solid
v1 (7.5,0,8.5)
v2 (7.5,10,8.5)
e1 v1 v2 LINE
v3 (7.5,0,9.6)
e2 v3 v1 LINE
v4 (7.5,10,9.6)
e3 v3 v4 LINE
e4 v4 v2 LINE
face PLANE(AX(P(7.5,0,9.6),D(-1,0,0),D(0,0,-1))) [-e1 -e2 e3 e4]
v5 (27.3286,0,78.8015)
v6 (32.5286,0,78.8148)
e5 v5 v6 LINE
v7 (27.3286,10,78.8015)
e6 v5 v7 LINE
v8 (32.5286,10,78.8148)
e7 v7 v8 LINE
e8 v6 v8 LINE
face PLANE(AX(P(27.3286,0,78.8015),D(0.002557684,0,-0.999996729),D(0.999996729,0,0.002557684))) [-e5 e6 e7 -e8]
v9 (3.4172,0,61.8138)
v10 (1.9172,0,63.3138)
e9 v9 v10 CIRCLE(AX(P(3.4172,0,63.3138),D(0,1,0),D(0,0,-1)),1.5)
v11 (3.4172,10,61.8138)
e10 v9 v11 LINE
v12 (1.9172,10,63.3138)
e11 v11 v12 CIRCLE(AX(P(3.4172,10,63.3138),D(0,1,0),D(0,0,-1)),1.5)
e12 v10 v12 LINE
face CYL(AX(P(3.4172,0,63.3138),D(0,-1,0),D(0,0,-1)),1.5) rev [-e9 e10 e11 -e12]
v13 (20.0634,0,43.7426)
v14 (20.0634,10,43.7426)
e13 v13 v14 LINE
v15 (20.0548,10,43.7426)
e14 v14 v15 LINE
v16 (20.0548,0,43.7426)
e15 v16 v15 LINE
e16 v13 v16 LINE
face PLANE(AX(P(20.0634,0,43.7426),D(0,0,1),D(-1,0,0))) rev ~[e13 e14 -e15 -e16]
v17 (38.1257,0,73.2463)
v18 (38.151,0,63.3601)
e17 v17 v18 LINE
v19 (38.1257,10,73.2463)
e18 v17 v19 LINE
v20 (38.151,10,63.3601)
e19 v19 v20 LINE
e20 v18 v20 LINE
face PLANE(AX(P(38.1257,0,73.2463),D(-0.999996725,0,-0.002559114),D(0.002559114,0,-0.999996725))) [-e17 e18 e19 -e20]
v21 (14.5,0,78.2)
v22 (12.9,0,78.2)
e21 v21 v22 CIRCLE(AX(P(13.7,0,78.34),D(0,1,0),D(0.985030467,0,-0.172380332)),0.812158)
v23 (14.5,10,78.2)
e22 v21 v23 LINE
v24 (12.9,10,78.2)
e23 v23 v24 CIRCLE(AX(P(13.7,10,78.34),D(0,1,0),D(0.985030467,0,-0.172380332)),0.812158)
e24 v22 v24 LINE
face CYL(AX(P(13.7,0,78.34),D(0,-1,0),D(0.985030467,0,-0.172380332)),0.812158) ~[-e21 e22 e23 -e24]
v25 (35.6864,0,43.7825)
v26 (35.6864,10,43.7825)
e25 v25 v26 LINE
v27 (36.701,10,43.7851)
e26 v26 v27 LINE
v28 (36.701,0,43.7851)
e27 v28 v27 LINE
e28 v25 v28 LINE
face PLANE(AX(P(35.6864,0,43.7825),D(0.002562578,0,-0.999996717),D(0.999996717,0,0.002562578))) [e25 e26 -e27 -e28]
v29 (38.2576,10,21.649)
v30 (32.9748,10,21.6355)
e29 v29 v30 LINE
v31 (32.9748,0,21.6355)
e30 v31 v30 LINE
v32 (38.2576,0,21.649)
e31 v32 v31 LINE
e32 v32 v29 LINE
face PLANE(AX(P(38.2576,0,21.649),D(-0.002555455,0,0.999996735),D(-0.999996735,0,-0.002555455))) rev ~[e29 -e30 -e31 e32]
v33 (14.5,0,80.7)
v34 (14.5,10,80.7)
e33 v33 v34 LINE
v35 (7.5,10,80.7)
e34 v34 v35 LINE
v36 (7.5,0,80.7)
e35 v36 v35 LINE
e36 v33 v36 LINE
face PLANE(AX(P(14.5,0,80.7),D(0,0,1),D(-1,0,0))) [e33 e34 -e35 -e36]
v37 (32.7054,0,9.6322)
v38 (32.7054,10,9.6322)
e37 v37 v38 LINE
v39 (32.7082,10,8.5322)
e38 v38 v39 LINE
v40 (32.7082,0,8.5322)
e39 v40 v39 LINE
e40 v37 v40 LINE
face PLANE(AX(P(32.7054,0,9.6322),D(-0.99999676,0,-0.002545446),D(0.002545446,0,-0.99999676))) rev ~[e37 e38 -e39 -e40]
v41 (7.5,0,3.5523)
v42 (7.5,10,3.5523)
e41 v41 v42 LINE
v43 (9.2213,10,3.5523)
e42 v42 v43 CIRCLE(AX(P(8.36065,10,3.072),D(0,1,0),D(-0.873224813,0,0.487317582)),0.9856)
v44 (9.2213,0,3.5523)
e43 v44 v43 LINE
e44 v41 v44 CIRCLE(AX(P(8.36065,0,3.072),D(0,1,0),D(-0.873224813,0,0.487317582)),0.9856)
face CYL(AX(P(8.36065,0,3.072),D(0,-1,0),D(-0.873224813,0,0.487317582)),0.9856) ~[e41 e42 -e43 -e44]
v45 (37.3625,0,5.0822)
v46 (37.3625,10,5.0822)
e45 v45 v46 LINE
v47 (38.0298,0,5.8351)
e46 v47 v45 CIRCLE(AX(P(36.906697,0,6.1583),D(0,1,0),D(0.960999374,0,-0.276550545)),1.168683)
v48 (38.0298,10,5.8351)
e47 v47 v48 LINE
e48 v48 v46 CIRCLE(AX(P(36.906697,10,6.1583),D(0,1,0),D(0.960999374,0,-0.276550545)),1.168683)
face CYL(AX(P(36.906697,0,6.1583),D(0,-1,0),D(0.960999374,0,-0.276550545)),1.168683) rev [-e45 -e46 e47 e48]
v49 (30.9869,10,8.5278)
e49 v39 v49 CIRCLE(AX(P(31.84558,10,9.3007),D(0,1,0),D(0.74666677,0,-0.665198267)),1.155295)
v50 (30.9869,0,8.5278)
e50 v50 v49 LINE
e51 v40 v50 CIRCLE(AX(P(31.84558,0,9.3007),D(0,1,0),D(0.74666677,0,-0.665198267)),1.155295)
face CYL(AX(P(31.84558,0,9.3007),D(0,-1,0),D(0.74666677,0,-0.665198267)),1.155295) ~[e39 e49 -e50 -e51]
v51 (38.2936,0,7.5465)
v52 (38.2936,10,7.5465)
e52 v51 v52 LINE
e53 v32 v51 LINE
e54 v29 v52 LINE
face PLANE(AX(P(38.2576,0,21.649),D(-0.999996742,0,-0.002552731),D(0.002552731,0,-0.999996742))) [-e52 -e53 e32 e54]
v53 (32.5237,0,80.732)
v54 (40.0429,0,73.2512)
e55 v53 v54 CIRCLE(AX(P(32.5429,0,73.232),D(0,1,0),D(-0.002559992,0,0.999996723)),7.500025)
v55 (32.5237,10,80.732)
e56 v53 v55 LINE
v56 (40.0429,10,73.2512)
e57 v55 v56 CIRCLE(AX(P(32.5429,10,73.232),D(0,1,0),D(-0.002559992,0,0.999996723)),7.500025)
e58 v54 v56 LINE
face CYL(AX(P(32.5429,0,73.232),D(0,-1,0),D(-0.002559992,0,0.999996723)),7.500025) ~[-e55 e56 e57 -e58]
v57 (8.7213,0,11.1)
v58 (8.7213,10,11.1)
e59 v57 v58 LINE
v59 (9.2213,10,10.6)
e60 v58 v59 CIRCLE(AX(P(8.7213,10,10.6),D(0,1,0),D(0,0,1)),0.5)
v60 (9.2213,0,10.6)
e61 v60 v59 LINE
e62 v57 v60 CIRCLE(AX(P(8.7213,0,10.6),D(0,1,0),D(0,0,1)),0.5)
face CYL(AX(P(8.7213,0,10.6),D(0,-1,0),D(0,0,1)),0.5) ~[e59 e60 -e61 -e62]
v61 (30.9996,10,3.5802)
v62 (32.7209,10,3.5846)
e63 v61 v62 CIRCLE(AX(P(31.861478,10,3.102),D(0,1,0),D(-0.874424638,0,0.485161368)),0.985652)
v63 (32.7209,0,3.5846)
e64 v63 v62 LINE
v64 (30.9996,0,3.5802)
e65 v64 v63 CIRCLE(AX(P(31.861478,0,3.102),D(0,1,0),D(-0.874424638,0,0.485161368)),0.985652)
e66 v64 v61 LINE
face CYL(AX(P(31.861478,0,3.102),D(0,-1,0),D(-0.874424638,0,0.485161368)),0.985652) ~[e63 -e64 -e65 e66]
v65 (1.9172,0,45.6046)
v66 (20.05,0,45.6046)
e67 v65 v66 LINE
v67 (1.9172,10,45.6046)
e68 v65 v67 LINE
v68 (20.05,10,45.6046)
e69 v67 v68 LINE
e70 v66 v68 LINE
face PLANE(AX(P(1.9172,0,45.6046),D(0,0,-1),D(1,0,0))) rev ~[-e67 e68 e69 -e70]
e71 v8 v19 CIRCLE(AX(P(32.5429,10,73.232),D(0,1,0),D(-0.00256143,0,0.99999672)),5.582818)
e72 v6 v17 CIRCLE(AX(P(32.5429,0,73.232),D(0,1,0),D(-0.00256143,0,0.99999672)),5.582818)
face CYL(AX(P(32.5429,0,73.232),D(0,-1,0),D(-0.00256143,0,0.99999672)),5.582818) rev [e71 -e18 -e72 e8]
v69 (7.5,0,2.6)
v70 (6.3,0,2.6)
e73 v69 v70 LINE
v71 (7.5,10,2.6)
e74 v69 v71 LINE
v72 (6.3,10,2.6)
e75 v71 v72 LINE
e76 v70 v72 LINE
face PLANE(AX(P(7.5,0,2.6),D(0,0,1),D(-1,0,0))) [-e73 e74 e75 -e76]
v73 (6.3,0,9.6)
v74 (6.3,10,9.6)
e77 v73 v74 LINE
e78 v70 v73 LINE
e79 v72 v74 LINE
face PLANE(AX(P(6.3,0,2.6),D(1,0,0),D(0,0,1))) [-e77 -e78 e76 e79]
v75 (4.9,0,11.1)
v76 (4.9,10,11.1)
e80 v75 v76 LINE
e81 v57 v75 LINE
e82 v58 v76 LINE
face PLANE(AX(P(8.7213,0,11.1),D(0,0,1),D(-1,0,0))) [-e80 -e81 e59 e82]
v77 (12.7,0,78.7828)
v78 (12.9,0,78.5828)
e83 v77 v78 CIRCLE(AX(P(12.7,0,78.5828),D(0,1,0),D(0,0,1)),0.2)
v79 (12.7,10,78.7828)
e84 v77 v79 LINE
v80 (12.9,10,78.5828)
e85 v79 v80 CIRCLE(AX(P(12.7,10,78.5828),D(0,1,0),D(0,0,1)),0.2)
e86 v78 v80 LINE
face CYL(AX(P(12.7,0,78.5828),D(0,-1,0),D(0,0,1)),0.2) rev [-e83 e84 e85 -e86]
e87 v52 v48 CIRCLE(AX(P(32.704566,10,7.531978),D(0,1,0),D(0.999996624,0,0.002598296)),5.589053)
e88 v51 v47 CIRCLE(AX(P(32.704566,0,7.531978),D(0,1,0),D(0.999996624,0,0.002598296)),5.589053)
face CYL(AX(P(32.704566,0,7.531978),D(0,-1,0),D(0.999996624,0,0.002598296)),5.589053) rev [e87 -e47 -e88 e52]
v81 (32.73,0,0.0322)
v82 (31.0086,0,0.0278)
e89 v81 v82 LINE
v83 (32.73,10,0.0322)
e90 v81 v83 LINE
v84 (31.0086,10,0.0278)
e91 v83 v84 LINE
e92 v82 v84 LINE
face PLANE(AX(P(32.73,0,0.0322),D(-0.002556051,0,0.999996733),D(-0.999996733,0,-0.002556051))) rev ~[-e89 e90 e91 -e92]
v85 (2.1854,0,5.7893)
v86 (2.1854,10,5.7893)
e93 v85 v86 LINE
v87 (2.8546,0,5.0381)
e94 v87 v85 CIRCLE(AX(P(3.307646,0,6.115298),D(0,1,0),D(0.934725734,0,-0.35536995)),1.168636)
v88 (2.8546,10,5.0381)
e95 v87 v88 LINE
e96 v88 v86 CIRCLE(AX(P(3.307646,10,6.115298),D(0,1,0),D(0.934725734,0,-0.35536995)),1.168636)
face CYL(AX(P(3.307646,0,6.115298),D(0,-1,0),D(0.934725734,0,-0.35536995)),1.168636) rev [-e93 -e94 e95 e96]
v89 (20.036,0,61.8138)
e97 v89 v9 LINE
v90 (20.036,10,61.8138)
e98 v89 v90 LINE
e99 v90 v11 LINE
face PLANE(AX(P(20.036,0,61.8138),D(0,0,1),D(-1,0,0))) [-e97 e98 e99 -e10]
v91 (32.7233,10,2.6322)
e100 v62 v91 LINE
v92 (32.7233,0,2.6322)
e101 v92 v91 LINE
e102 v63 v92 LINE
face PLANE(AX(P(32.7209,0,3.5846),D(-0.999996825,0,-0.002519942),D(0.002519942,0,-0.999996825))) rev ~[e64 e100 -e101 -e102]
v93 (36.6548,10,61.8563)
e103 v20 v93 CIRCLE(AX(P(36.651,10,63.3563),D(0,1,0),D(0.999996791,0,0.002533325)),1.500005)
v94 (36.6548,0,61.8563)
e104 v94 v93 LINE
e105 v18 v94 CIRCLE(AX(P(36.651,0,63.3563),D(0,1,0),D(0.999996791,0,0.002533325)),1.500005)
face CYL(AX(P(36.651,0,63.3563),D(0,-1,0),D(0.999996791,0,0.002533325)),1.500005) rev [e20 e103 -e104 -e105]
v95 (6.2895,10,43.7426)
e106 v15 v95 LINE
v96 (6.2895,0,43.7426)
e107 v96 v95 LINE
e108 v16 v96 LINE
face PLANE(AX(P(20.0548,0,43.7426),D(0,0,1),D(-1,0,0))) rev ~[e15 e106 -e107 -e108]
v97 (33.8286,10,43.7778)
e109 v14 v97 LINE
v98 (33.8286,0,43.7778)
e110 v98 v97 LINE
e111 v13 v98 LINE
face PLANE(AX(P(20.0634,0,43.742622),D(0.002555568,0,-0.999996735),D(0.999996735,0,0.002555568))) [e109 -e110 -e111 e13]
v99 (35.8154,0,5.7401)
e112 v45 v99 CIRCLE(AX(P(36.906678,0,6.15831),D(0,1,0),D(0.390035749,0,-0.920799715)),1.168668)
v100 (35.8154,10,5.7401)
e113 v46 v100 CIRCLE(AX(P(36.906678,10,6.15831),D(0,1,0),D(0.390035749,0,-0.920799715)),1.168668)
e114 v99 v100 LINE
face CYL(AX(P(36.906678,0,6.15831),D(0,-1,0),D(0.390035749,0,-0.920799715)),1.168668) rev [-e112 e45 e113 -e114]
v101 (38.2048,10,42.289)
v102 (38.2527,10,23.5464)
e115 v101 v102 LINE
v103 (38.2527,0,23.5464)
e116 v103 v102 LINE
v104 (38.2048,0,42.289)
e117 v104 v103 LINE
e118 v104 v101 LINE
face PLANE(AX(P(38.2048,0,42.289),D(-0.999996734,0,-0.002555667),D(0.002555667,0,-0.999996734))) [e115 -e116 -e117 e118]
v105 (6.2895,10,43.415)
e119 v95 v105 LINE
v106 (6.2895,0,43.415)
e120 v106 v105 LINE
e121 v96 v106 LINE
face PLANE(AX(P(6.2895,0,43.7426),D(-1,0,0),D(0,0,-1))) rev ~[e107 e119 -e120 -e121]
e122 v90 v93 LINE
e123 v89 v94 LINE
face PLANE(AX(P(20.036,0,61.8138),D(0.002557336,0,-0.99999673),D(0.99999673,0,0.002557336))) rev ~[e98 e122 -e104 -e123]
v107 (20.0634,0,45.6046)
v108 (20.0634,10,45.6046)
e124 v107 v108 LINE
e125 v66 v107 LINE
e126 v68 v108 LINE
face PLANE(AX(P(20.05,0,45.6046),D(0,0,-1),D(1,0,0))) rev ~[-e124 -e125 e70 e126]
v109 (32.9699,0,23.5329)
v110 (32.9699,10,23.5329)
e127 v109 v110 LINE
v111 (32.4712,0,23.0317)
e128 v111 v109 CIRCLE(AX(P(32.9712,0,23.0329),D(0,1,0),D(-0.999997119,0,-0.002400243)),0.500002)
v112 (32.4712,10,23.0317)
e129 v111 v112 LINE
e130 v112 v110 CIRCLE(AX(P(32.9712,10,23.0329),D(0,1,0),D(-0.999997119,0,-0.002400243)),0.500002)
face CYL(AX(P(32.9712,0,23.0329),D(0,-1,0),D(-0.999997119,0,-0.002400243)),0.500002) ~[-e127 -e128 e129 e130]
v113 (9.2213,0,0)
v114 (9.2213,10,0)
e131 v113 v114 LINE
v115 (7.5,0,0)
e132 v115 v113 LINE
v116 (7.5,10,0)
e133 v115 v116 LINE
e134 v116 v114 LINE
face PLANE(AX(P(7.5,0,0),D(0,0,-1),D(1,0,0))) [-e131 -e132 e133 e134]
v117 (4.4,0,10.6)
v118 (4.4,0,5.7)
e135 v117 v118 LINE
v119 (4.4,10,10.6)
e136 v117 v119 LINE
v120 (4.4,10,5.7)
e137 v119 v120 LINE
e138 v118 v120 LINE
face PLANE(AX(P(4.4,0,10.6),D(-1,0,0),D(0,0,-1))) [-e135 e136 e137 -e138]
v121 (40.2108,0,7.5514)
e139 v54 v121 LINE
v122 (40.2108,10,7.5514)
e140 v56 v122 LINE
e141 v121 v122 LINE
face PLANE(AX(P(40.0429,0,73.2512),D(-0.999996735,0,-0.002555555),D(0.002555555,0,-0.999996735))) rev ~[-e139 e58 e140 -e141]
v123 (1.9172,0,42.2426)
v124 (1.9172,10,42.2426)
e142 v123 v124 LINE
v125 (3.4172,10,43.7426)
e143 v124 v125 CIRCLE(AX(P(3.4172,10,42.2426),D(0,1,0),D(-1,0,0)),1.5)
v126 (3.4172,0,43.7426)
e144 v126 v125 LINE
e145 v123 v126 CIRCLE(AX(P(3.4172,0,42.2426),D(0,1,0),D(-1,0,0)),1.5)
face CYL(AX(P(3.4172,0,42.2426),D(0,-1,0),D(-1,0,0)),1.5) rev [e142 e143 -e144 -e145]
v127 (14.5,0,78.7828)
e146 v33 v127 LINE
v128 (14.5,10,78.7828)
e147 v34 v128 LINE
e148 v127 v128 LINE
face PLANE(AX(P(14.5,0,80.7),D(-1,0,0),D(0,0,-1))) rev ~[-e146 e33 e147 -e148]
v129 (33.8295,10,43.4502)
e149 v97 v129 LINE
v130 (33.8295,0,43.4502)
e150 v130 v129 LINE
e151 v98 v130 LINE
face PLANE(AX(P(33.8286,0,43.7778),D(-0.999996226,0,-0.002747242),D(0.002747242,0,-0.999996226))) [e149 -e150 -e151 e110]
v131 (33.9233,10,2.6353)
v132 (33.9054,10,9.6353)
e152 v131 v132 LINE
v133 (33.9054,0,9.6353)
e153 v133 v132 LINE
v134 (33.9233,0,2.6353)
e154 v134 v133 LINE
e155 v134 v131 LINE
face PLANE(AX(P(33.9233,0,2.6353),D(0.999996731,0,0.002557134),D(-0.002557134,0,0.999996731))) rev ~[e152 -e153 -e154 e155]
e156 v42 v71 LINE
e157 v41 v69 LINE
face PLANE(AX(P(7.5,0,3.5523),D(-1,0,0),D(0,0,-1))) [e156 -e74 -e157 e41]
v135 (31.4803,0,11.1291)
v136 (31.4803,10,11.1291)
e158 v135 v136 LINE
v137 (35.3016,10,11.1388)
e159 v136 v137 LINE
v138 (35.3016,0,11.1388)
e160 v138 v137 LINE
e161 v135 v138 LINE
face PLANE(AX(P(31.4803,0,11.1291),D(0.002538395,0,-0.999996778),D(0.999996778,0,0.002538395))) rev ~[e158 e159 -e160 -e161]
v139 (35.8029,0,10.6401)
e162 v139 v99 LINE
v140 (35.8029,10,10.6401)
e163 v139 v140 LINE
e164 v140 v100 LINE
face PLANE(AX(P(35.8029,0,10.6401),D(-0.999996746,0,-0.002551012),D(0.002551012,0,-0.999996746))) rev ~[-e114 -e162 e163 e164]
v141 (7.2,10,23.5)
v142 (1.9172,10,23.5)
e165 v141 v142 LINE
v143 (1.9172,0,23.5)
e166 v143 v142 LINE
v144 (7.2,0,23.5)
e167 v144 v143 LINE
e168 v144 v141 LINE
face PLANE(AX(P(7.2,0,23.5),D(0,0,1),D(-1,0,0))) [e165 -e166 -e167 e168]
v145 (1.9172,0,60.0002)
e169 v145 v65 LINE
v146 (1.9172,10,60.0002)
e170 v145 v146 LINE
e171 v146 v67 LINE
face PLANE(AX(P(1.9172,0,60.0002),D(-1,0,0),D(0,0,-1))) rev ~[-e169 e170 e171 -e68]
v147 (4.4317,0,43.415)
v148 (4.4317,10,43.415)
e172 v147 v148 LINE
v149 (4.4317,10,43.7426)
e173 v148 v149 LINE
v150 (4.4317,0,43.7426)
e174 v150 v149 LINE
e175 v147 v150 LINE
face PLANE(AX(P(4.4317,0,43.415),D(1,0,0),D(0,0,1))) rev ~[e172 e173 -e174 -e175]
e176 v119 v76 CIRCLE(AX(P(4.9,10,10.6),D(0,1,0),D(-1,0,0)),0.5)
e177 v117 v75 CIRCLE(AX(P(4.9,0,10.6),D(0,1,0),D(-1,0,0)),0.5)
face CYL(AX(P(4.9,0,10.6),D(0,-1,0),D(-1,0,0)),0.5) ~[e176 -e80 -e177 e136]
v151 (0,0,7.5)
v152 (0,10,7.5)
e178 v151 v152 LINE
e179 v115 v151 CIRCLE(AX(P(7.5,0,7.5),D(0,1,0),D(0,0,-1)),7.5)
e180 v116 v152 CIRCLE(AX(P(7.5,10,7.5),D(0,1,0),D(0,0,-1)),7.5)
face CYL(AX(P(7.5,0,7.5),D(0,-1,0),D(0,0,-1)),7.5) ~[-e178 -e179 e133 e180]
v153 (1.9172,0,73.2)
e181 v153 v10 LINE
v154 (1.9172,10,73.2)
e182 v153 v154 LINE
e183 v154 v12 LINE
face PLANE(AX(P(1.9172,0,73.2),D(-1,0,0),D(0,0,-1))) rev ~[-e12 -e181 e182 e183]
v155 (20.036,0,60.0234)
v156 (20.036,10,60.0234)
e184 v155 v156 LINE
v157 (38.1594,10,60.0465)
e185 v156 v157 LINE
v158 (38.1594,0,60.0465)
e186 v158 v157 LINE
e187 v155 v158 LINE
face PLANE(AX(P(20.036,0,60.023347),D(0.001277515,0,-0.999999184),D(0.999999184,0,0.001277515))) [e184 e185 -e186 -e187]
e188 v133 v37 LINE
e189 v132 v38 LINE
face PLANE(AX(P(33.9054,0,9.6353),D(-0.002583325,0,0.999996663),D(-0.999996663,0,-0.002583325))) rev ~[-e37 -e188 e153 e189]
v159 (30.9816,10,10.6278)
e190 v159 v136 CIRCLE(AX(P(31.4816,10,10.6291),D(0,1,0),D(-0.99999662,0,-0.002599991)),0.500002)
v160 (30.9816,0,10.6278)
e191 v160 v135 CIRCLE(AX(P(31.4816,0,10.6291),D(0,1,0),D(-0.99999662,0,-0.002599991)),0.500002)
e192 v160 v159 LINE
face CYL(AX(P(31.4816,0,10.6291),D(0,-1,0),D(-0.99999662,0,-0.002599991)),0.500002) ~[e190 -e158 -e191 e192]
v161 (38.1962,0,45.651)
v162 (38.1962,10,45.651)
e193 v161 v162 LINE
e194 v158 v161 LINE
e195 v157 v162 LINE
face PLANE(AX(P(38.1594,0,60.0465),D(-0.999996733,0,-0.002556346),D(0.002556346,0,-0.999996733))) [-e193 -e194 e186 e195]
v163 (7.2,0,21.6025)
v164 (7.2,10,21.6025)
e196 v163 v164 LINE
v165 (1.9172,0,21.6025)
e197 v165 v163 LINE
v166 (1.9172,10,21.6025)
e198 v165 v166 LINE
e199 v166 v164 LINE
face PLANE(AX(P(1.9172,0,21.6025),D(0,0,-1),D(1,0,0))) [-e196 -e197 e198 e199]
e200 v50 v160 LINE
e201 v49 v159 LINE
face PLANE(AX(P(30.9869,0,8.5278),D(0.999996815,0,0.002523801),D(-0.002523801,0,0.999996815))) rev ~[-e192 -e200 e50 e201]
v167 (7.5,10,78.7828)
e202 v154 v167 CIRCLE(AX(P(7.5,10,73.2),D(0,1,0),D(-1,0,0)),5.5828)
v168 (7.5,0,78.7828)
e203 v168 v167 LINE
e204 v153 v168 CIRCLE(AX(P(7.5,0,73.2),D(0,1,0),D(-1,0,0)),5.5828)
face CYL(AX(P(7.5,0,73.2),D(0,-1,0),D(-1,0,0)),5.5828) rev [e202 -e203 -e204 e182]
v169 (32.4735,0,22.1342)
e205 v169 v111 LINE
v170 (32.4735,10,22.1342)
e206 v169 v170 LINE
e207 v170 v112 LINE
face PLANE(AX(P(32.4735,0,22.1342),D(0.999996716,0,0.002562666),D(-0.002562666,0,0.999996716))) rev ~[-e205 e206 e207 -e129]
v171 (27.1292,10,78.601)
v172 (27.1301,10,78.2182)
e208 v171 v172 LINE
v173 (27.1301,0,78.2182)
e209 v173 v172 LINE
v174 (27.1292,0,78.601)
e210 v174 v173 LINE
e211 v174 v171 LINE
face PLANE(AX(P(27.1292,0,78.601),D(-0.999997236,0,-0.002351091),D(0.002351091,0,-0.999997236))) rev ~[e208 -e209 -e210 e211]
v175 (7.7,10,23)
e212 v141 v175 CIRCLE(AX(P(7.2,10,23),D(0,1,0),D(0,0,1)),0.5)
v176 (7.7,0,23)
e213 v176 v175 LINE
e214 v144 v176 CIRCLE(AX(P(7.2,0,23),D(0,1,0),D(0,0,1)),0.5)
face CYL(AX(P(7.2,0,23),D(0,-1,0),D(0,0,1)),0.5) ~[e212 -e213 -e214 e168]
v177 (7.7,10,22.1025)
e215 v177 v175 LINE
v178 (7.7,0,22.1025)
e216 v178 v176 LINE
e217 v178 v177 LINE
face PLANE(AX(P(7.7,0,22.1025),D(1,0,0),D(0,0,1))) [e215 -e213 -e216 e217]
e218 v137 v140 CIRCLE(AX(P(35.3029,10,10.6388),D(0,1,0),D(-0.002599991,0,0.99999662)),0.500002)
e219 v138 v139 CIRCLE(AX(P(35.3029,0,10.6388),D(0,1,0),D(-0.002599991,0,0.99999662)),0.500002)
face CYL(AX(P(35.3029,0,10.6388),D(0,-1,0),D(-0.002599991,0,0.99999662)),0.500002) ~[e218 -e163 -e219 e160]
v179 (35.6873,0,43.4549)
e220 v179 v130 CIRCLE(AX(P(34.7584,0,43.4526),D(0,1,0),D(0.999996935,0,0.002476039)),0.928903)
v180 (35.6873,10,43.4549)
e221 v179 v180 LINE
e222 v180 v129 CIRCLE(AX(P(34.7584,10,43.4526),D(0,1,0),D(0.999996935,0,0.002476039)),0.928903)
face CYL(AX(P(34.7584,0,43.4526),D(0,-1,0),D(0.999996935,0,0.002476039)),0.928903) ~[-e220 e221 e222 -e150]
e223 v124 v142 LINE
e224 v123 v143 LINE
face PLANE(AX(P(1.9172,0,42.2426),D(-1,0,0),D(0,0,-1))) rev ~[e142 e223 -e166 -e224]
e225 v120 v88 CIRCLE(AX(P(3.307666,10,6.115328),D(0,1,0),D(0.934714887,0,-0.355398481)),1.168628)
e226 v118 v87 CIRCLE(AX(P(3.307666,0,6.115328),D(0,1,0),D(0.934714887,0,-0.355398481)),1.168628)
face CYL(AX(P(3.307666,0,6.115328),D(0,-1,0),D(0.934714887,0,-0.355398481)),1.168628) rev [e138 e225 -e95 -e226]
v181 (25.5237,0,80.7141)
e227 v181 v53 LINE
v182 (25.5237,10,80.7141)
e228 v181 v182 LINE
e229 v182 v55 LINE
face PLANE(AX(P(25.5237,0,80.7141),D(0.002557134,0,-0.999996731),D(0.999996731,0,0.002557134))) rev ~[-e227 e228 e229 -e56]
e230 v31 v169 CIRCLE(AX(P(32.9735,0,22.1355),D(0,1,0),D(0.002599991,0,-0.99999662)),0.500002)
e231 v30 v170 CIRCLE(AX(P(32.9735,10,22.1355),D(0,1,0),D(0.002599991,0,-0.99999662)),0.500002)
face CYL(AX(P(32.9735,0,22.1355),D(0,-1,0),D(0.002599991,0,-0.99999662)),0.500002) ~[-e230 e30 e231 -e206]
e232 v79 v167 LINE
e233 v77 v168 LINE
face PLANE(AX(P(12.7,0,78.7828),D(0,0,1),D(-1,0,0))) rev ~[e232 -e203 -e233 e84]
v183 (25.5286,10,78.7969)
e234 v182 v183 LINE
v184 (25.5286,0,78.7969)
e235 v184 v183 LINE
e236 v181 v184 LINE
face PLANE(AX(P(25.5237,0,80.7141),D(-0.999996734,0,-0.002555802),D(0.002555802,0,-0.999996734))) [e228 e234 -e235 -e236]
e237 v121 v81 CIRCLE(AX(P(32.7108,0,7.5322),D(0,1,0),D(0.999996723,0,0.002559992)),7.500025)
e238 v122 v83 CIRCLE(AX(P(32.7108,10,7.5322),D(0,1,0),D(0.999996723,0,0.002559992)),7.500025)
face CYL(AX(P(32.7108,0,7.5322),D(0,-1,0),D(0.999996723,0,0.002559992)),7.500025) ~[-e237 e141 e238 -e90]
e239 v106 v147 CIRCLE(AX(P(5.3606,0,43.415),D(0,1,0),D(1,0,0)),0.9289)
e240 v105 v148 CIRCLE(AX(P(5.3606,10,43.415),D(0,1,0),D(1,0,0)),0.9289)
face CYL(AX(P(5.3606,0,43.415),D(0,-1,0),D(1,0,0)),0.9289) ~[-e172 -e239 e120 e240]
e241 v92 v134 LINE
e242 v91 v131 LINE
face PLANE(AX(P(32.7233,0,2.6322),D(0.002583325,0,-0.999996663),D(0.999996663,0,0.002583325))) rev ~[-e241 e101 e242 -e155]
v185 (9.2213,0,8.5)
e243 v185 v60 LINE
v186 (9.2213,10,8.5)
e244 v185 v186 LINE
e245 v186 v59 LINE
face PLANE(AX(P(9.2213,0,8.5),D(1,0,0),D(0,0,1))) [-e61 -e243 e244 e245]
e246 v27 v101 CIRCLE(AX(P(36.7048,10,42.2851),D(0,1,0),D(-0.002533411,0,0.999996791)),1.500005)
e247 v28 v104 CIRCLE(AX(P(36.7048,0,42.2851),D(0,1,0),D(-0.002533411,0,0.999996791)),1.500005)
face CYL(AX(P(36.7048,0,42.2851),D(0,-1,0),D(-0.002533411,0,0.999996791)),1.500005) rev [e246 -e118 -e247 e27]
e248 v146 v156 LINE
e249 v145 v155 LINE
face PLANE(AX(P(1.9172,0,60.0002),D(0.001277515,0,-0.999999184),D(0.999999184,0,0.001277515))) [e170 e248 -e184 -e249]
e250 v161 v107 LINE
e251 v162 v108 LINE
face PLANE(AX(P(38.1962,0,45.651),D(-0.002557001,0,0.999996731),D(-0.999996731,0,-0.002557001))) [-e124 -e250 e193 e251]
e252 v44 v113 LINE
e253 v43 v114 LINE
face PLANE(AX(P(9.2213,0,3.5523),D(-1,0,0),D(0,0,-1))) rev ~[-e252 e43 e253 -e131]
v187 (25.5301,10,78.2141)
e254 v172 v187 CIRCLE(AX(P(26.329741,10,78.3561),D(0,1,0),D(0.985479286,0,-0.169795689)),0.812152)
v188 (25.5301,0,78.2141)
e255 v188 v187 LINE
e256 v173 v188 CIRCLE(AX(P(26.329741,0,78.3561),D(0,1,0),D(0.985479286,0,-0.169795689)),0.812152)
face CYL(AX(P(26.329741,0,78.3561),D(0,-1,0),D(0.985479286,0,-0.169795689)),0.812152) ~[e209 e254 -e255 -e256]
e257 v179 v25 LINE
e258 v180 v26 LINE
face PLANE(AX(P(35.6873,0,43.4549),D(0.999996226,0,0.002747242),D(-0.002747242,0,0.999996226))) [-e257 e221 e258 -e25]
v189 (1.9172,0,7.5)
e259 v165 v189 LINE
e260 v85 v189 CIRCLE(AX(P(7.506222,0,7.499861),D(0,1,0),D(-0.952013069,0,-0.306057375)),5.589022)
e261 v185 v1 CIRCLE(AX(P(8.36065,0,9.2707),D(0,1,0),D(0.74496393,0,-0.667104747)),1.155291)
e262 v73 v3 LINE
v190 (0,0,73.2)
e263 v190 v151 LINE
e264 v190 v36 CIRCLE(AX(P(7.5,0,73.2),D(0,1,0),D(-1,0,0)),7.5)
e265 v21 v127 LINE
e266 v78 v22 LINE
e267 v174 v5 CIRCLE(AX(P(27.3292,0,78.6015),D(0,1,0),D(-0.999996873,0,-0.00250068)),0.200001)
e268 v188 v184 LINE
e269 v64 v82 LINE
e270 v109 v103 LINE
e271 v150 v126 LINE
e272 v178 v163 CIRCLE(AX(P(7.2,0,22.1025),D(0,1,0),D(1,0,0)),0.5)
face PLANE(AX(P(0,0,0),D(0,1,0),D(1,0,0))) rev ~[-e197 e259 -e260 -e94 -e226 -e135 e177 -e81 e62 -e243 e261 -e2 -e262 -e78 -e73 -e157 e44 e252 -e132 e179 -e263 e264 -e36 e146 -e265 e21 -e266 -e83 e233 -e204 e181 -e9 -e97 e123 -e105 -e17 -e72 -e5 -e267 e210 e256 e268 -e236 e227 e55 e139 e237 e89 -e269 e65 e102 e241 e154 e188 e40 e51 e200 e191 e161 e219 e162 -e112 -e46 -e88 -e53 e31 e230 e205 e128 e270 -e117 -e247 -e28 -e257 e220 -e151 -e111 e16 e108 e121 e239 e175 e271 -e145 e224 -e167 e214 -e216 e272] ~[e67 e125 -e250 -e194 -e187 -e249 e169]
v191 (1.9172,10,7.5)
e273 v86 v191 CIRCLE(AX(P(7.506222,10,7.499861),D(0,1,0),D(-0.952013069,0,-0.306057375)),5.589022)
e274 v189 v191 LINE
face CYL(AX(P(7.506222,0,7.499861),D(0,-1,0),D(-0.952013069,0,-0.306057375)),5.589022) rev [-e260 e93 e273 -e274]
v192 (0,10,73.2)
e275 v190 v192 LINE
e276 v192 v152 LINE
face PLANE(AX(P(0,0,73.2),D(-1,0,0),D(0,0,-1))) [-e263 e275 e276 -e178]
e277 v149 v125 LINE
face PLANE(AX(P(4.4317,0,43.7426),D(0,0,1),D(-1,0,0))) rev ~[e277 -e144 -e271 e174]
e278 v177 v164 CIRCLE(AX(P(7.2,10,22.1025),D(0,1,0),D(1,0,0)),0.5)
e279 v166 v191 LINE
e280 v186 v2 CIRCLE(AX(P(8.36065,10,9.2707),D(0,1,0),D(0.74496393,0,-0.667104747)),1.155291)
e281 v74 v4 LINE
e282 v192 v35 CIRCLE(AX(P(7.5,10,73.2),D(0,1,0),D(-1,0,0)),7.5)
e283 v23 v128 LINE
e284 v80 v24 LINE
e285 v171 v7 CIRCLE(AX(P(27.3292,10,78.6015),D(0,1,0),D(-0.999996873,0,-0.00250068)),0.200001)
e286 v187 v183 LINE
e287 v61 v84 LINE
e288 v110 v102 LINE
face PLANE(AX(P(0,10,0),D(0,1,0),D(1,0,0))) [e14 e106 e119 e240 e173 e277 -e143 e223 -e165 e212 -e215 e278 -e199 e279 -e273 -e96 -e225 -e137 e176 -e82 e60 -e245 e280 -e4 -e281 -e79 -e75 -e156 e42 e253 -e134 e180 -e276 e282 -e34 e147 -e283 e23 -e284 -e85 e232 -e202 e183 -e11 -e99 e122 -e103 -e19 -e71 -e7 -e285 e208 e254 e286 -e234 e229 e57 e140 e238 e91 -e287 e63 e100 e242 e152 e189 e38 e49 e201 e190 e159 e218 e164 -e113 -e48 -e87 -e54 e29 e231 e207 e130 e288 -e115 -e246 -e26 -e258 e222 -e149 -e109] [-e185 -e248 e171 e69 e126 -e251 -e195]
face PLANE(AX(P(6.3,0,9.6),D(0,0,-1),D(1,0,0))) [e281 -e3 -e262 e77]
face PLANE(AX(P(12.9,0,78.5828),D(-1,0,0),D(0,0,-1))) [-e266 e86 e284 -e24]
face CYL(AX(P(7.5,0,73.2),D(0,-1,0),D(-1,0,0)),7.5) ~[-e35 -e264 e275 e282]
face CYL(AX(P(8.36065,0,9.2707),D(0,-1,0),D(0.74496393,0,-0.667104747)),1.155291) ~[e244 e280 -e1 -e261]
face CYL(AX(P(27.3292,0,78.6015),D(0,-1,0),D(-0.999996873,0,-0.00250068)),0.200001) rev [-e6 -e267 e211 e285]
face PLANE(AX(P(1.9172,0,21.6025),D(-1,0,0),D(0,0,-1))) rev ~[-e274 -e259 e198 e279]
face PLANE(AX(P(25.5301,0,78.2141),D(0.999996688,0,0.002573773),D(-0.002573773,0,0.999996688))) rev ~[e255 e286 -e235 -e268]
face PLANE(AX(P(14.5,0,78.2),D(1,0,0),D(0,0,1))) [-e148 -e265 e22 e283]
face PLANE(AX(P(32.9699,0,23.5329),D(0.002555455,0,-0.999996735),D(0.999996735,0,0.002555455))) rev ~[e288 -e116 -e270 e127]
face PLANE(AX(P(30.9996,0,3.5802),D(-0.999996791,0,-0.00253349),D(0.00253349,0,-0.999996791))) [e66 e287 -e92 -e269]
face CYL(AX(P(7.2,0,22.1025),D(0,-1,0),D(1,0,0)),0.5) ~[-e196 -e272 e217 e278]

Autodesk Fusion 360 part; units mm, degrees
sketch "Boceto2" plane through (0, 0, 0) normal (0, 1, 0) x (1, 0, 0)
  line L0 (7.5, 0) -> (9.2213, 0)
  line L1 (14.5, -80.7) -> (7.5, -80.7)
  line L2 (0, -73.2) -> (0, -7.5)
  arc A0 (0, -73.2) -> (7.5, -80.7) centre (7.5, -73.2) ccw
  arc A1 (7.5, 0) -> (0, -7.5) centre (7.5, -7.5) ccw
  line L3 (12.7, -78.7828) -> (7.5, -78.7828)
  arc A2 (1.9172, -73.2) -> (7.5, -78.7828) centre (7.5, -73.2) ccw
  line L4 (7.5, -3.5523) -> (7.5, -2.6)
  line L5 (7.5, -2.6) -> (6.3, -2.6)
  line L6 (6.3, -2.6) -> (6.3, -9.6)
  line L7 (6.3, -9.6) -> (7.5, -9.6)
  line L8 (7.5, -9.6) -> (7.5, -8.5)
  line L9 (9.2213, -8.5) -> (9.2213, -10.6)
  line L10 (8.7213, -11.1) -> (4.9, -11.1)
  line L11 (4.4, -10.6) -> (4.4, -5.7)
  arc A3 (4.4, -5.7) -> (2.8546, -5.0381) centre (3.3076, -6.1153) ccw
  arc A4 (4.4, -5.7) -> (2.1854, -5.7893) centre (3.3076, -6.1153) ccw
  arc A5 (2.1854, -5.7893) -> (1.9172, -7.5) centre (7.5062, -7.5) ccw
  arc A6 (9.2213, -8.5) -> (7.5, -8.5) centre (8.3607, -9.2707) ccw
  arc A7 (7.5, -3.5523) -> (9.2213, -3.5523) centre (8.3607, -3.072) ccw
  line L12 (9.2213, -3.5523) -> (9.2213, 0)
  line L13 (20.1126, -1.9172) -> (20.115, -1.9172)
  line L14 (1.9172, -21.6025) -> (7.2, -21.6025)
  line L15 (7.7, -22.1025) -> (7.7, -23)
  line L16 (7.2, -23.5) -> (1.9172, -23.5)
  line L17 (1.9172, -45.6046) -> (20.0634, -45.6046)
  line L18 (20.0634, -43.7426) -> (20.0634, -43.7426)
  line L19 (20.036, -60.0002) -> (20.036, -60.0234)
  line L20 (20.036, -61.8138) -> (3.4172, -61.8138)
  line L21 (14.5, -80.7) -> (14.5, -78.7828)
  line L22 (1.9172, -21.6025) -> (1.9172, -7.5)
  arc A8 (7.2, -23.5) -> (7.7, -23) centre (7.2, -23) ccw
  arc A9 (7.7, -22.1025) -> (7.2, -21.6025) centre (7.2, -22.1025) ccw
  line L23 (1.9172, -42.2426) -> (1.9172, -23.5)
  arc A10 (1.9172, -42.2426) -> (3.4172, -43.7426) centre (3.4172, -42.2426) ccw
  line L24 (6.2895, -43.7426) -> (6.2895, -43.415)
  line L25 (4.4317, -43.415) -> (4.4317, -43.7426)
  arc A11 (6.2895, -43.415) -> (4.4317, -43.415) centre (5.3606, -43.415) ccw
  line L26 (20.0634, -43.7426) -> (6.2895, -43.7426)
  line L27 (4.4317, -43.7426) -> (3.4172, -43.7426)
  line L28 (1.9172, -73.2) -> (1.9172, -63.3138)
  line L29 (1.9172, -60.0002) -> (1.9172, -45.6046)
  arc A12 (3.4172, -61.8138) -> (1.9172, -63.3138) centre (3.4172, -63.3138) ccw
  line L30 (12.9, -78.5828) -> (12.9, -78.2)
  line L31 (14.5, -78.2) -> (14.5, -78.7828)
  arc A13 (14.5, -78.2) -> (12.9, -78.2) centre (13.7, -78.34) ccw
  arc A14 (4.4, -10.6) -> (4.9, -11.1) centre (4.9, -10.6) ccw
  arc A15 (8.7213, -11.1) -> (9.2213, -10.6) centre (8.7213, -10.6) ccw
  arc A16 (12.7, -78.7828) -> (12.9, -78.5828) centre (12.7, -78.5828) ccw
  line L32 (32.4735, -22.1342) -> (32.4712, -23.0317)
  line L33 (35.8029, -10.6401) -> (35.8154, -5.7401)
  arc A17 (36.701, -43.7851) -> (38.2048, -42.289) centre (36.7048, -42.2851) ccw
  line L34 (38.1594, -60.0465) -> (38.1962, -45.651)
  line L35 (33.8286, -43.7778) -> (33.8295, -43.4502)
  arc A18 (35.6873, -43.4549) -> (33.8295, -43.4502) centre (34.7584, -43.4526) ccw
  line L36 (32.7209, -3.5846) -> (32.7233, -2.6322)
  line L37 (35.6864, -43.7825) -> (36.701, -43.7851)
  line L38 (32.9699, -23.5329) -> (38.2527, -23.5464)
  line L39 (40.0429, -73.2512) -> (40.2108, -7.5514)
  line L40 (38.2048, -42.289) -> (38.2527, -23.5464)
  arc A19 (32.4712, -23.0317) -> (32.9699, -23.5329) centre (32.9712, -23.0329) ccw
  line L41 (35.6873, -43.4549) -> (35.6864, -43.7825)
  arc A20 (37.3625, -5.0822) -> (35.8154, -5.7401) centre (36.9067, -6.1583) ccw
  line L42 (30.9869, -8.5278) -> (30.9816, -10.6278)
  line L43 (27.1292, -78.601) -> (27.1301, -78.2182)
  arc A21 (38.2936, -7.5465) -> (38.0298, -5.8351) centre (32.7046, -7.5322) ccw
  line L44 (25.5301, -78.2141) -> (25.5286, -78.7969)
  line L45 (32.73, -0.0322) -> (31.0086, -0.0278)
  arc A22 (40.2108, -7.5514) -> (32.73, -0.0322) centre (32.7108, -7.5322) ccw
  arc A23 (35.3016, -11.1388) -> (35.8029, -10.6401) centre (35.3029, -10.6388) ccw
  arc A24 (32.5237, -80.732) -> (40.0429, -73.2512) centre (32.5429, -73.232) ccw
  arc A25 (32.9748, -21.6355) -> (32.4735, -22.1342) centre (32.9735, -22.1355) ccw
  line L46 (32.7054, -9.6322) -> (32.7082, -8.5322)
  arc A26 (30.9816, -10.6278) -> (31.4803, -11.1291) centre (31.4816, -10.6291) ccw
  line L47 (33.9233, -2.6353) -> (33.9054, -9.6353)
  line L48 (27.3286, -78.8015) -> (32.5286, -78.8148)
  arc A27 (38.0298, -5.8351) -> (35.8154, -5.7401) centre (36.9067, -6.1583) ccw
  arc A28 (38.151, -63.3601) -> (36.6548, -61.8563) centre (36.651, -63.3563) ccw
  arc A29 (30.9996, -3.5802) -> (32.7209, -3.5846) centre (31.8615, -3.102) ccw
  line L49 (30.9996, -3.5802) -> (31.0086, -0.0278)
  arc A30 (32.5286, -78.8148) -> (38.1257, -73.2463) centre (32.5429, -73.232) ccw
  line L50 (38.1257, -73.2463) -> (38.151, -63.3601)
  line L51 (38.2576, -21.649) -> (38.2936, -7.5465)
  line L52 (31.4803, -11.1291) -> (35.3016, -11.1388)
  line L53 (25.5237, -80.7141) -> (25.5286, -78.7969)
  arc A31 (27.1292, -78.601) -> (27.3286, -78.8015) centre (27.3292, -78.6015) ccw
  line L54 (32.7233, -2.6322) -> (33.9233, -2.6353)
  line L55 (33.9054, -9.6353) -> (32.7054, -9.6322)
  arc A32 (32.7082, -8.5322) -> (30.9869, -8.5278) centre (31.8456, -9.3007) ccw
  line L56 (38.2576, -21.649) -> (32.9748, -21.6355)
  line L57 (25.5237, -80.7141) -> (32.5237, -80.732)
  arc A33 (27.1301, -78.2182) -> (25.5301, -78.2141) centre (26.3298, -78.3561) ccw
  line L58 (20.0548, -43.7426) -> (33.8286, -43.7778)
  line L59 (38.1962, -45.651) -> (20.05, -45.6046)
  line L60 (20.036, -61.8138) -> (36.6548, -61.8563)
  line L61 (1.9172, -60.0002) -> (38.1594, -60.0465)
  line L62 (20.036, -61.8138) -> (20.0119, -80.7) construction
  line L63 (20.115, 0) -> (20.0591, -43.7426) construction
  line L64 (20.0567, -45.6046) -> (20.0383, -60.0234) construction
  point P0 (0, -80.7)
  point P1 (40.0237, -80.7511)
  point P2 (40.2299, -0.0514)
  point P3 (40.2299, -0.0514)
  dimension "d10" = 80.7
  dimension "d12" = 7.5
  dimension "d14" = 0.5
  dimension "d15" = 1.5
  dimension "d16" = 1.5
  dimension "d17" = 0.5
  dimension "d18" = 0.2
extrude "Extruir1" add sketch "Boceto2" along normal blind 10
equation "d19 = L"
equation "L = 10 mm"
